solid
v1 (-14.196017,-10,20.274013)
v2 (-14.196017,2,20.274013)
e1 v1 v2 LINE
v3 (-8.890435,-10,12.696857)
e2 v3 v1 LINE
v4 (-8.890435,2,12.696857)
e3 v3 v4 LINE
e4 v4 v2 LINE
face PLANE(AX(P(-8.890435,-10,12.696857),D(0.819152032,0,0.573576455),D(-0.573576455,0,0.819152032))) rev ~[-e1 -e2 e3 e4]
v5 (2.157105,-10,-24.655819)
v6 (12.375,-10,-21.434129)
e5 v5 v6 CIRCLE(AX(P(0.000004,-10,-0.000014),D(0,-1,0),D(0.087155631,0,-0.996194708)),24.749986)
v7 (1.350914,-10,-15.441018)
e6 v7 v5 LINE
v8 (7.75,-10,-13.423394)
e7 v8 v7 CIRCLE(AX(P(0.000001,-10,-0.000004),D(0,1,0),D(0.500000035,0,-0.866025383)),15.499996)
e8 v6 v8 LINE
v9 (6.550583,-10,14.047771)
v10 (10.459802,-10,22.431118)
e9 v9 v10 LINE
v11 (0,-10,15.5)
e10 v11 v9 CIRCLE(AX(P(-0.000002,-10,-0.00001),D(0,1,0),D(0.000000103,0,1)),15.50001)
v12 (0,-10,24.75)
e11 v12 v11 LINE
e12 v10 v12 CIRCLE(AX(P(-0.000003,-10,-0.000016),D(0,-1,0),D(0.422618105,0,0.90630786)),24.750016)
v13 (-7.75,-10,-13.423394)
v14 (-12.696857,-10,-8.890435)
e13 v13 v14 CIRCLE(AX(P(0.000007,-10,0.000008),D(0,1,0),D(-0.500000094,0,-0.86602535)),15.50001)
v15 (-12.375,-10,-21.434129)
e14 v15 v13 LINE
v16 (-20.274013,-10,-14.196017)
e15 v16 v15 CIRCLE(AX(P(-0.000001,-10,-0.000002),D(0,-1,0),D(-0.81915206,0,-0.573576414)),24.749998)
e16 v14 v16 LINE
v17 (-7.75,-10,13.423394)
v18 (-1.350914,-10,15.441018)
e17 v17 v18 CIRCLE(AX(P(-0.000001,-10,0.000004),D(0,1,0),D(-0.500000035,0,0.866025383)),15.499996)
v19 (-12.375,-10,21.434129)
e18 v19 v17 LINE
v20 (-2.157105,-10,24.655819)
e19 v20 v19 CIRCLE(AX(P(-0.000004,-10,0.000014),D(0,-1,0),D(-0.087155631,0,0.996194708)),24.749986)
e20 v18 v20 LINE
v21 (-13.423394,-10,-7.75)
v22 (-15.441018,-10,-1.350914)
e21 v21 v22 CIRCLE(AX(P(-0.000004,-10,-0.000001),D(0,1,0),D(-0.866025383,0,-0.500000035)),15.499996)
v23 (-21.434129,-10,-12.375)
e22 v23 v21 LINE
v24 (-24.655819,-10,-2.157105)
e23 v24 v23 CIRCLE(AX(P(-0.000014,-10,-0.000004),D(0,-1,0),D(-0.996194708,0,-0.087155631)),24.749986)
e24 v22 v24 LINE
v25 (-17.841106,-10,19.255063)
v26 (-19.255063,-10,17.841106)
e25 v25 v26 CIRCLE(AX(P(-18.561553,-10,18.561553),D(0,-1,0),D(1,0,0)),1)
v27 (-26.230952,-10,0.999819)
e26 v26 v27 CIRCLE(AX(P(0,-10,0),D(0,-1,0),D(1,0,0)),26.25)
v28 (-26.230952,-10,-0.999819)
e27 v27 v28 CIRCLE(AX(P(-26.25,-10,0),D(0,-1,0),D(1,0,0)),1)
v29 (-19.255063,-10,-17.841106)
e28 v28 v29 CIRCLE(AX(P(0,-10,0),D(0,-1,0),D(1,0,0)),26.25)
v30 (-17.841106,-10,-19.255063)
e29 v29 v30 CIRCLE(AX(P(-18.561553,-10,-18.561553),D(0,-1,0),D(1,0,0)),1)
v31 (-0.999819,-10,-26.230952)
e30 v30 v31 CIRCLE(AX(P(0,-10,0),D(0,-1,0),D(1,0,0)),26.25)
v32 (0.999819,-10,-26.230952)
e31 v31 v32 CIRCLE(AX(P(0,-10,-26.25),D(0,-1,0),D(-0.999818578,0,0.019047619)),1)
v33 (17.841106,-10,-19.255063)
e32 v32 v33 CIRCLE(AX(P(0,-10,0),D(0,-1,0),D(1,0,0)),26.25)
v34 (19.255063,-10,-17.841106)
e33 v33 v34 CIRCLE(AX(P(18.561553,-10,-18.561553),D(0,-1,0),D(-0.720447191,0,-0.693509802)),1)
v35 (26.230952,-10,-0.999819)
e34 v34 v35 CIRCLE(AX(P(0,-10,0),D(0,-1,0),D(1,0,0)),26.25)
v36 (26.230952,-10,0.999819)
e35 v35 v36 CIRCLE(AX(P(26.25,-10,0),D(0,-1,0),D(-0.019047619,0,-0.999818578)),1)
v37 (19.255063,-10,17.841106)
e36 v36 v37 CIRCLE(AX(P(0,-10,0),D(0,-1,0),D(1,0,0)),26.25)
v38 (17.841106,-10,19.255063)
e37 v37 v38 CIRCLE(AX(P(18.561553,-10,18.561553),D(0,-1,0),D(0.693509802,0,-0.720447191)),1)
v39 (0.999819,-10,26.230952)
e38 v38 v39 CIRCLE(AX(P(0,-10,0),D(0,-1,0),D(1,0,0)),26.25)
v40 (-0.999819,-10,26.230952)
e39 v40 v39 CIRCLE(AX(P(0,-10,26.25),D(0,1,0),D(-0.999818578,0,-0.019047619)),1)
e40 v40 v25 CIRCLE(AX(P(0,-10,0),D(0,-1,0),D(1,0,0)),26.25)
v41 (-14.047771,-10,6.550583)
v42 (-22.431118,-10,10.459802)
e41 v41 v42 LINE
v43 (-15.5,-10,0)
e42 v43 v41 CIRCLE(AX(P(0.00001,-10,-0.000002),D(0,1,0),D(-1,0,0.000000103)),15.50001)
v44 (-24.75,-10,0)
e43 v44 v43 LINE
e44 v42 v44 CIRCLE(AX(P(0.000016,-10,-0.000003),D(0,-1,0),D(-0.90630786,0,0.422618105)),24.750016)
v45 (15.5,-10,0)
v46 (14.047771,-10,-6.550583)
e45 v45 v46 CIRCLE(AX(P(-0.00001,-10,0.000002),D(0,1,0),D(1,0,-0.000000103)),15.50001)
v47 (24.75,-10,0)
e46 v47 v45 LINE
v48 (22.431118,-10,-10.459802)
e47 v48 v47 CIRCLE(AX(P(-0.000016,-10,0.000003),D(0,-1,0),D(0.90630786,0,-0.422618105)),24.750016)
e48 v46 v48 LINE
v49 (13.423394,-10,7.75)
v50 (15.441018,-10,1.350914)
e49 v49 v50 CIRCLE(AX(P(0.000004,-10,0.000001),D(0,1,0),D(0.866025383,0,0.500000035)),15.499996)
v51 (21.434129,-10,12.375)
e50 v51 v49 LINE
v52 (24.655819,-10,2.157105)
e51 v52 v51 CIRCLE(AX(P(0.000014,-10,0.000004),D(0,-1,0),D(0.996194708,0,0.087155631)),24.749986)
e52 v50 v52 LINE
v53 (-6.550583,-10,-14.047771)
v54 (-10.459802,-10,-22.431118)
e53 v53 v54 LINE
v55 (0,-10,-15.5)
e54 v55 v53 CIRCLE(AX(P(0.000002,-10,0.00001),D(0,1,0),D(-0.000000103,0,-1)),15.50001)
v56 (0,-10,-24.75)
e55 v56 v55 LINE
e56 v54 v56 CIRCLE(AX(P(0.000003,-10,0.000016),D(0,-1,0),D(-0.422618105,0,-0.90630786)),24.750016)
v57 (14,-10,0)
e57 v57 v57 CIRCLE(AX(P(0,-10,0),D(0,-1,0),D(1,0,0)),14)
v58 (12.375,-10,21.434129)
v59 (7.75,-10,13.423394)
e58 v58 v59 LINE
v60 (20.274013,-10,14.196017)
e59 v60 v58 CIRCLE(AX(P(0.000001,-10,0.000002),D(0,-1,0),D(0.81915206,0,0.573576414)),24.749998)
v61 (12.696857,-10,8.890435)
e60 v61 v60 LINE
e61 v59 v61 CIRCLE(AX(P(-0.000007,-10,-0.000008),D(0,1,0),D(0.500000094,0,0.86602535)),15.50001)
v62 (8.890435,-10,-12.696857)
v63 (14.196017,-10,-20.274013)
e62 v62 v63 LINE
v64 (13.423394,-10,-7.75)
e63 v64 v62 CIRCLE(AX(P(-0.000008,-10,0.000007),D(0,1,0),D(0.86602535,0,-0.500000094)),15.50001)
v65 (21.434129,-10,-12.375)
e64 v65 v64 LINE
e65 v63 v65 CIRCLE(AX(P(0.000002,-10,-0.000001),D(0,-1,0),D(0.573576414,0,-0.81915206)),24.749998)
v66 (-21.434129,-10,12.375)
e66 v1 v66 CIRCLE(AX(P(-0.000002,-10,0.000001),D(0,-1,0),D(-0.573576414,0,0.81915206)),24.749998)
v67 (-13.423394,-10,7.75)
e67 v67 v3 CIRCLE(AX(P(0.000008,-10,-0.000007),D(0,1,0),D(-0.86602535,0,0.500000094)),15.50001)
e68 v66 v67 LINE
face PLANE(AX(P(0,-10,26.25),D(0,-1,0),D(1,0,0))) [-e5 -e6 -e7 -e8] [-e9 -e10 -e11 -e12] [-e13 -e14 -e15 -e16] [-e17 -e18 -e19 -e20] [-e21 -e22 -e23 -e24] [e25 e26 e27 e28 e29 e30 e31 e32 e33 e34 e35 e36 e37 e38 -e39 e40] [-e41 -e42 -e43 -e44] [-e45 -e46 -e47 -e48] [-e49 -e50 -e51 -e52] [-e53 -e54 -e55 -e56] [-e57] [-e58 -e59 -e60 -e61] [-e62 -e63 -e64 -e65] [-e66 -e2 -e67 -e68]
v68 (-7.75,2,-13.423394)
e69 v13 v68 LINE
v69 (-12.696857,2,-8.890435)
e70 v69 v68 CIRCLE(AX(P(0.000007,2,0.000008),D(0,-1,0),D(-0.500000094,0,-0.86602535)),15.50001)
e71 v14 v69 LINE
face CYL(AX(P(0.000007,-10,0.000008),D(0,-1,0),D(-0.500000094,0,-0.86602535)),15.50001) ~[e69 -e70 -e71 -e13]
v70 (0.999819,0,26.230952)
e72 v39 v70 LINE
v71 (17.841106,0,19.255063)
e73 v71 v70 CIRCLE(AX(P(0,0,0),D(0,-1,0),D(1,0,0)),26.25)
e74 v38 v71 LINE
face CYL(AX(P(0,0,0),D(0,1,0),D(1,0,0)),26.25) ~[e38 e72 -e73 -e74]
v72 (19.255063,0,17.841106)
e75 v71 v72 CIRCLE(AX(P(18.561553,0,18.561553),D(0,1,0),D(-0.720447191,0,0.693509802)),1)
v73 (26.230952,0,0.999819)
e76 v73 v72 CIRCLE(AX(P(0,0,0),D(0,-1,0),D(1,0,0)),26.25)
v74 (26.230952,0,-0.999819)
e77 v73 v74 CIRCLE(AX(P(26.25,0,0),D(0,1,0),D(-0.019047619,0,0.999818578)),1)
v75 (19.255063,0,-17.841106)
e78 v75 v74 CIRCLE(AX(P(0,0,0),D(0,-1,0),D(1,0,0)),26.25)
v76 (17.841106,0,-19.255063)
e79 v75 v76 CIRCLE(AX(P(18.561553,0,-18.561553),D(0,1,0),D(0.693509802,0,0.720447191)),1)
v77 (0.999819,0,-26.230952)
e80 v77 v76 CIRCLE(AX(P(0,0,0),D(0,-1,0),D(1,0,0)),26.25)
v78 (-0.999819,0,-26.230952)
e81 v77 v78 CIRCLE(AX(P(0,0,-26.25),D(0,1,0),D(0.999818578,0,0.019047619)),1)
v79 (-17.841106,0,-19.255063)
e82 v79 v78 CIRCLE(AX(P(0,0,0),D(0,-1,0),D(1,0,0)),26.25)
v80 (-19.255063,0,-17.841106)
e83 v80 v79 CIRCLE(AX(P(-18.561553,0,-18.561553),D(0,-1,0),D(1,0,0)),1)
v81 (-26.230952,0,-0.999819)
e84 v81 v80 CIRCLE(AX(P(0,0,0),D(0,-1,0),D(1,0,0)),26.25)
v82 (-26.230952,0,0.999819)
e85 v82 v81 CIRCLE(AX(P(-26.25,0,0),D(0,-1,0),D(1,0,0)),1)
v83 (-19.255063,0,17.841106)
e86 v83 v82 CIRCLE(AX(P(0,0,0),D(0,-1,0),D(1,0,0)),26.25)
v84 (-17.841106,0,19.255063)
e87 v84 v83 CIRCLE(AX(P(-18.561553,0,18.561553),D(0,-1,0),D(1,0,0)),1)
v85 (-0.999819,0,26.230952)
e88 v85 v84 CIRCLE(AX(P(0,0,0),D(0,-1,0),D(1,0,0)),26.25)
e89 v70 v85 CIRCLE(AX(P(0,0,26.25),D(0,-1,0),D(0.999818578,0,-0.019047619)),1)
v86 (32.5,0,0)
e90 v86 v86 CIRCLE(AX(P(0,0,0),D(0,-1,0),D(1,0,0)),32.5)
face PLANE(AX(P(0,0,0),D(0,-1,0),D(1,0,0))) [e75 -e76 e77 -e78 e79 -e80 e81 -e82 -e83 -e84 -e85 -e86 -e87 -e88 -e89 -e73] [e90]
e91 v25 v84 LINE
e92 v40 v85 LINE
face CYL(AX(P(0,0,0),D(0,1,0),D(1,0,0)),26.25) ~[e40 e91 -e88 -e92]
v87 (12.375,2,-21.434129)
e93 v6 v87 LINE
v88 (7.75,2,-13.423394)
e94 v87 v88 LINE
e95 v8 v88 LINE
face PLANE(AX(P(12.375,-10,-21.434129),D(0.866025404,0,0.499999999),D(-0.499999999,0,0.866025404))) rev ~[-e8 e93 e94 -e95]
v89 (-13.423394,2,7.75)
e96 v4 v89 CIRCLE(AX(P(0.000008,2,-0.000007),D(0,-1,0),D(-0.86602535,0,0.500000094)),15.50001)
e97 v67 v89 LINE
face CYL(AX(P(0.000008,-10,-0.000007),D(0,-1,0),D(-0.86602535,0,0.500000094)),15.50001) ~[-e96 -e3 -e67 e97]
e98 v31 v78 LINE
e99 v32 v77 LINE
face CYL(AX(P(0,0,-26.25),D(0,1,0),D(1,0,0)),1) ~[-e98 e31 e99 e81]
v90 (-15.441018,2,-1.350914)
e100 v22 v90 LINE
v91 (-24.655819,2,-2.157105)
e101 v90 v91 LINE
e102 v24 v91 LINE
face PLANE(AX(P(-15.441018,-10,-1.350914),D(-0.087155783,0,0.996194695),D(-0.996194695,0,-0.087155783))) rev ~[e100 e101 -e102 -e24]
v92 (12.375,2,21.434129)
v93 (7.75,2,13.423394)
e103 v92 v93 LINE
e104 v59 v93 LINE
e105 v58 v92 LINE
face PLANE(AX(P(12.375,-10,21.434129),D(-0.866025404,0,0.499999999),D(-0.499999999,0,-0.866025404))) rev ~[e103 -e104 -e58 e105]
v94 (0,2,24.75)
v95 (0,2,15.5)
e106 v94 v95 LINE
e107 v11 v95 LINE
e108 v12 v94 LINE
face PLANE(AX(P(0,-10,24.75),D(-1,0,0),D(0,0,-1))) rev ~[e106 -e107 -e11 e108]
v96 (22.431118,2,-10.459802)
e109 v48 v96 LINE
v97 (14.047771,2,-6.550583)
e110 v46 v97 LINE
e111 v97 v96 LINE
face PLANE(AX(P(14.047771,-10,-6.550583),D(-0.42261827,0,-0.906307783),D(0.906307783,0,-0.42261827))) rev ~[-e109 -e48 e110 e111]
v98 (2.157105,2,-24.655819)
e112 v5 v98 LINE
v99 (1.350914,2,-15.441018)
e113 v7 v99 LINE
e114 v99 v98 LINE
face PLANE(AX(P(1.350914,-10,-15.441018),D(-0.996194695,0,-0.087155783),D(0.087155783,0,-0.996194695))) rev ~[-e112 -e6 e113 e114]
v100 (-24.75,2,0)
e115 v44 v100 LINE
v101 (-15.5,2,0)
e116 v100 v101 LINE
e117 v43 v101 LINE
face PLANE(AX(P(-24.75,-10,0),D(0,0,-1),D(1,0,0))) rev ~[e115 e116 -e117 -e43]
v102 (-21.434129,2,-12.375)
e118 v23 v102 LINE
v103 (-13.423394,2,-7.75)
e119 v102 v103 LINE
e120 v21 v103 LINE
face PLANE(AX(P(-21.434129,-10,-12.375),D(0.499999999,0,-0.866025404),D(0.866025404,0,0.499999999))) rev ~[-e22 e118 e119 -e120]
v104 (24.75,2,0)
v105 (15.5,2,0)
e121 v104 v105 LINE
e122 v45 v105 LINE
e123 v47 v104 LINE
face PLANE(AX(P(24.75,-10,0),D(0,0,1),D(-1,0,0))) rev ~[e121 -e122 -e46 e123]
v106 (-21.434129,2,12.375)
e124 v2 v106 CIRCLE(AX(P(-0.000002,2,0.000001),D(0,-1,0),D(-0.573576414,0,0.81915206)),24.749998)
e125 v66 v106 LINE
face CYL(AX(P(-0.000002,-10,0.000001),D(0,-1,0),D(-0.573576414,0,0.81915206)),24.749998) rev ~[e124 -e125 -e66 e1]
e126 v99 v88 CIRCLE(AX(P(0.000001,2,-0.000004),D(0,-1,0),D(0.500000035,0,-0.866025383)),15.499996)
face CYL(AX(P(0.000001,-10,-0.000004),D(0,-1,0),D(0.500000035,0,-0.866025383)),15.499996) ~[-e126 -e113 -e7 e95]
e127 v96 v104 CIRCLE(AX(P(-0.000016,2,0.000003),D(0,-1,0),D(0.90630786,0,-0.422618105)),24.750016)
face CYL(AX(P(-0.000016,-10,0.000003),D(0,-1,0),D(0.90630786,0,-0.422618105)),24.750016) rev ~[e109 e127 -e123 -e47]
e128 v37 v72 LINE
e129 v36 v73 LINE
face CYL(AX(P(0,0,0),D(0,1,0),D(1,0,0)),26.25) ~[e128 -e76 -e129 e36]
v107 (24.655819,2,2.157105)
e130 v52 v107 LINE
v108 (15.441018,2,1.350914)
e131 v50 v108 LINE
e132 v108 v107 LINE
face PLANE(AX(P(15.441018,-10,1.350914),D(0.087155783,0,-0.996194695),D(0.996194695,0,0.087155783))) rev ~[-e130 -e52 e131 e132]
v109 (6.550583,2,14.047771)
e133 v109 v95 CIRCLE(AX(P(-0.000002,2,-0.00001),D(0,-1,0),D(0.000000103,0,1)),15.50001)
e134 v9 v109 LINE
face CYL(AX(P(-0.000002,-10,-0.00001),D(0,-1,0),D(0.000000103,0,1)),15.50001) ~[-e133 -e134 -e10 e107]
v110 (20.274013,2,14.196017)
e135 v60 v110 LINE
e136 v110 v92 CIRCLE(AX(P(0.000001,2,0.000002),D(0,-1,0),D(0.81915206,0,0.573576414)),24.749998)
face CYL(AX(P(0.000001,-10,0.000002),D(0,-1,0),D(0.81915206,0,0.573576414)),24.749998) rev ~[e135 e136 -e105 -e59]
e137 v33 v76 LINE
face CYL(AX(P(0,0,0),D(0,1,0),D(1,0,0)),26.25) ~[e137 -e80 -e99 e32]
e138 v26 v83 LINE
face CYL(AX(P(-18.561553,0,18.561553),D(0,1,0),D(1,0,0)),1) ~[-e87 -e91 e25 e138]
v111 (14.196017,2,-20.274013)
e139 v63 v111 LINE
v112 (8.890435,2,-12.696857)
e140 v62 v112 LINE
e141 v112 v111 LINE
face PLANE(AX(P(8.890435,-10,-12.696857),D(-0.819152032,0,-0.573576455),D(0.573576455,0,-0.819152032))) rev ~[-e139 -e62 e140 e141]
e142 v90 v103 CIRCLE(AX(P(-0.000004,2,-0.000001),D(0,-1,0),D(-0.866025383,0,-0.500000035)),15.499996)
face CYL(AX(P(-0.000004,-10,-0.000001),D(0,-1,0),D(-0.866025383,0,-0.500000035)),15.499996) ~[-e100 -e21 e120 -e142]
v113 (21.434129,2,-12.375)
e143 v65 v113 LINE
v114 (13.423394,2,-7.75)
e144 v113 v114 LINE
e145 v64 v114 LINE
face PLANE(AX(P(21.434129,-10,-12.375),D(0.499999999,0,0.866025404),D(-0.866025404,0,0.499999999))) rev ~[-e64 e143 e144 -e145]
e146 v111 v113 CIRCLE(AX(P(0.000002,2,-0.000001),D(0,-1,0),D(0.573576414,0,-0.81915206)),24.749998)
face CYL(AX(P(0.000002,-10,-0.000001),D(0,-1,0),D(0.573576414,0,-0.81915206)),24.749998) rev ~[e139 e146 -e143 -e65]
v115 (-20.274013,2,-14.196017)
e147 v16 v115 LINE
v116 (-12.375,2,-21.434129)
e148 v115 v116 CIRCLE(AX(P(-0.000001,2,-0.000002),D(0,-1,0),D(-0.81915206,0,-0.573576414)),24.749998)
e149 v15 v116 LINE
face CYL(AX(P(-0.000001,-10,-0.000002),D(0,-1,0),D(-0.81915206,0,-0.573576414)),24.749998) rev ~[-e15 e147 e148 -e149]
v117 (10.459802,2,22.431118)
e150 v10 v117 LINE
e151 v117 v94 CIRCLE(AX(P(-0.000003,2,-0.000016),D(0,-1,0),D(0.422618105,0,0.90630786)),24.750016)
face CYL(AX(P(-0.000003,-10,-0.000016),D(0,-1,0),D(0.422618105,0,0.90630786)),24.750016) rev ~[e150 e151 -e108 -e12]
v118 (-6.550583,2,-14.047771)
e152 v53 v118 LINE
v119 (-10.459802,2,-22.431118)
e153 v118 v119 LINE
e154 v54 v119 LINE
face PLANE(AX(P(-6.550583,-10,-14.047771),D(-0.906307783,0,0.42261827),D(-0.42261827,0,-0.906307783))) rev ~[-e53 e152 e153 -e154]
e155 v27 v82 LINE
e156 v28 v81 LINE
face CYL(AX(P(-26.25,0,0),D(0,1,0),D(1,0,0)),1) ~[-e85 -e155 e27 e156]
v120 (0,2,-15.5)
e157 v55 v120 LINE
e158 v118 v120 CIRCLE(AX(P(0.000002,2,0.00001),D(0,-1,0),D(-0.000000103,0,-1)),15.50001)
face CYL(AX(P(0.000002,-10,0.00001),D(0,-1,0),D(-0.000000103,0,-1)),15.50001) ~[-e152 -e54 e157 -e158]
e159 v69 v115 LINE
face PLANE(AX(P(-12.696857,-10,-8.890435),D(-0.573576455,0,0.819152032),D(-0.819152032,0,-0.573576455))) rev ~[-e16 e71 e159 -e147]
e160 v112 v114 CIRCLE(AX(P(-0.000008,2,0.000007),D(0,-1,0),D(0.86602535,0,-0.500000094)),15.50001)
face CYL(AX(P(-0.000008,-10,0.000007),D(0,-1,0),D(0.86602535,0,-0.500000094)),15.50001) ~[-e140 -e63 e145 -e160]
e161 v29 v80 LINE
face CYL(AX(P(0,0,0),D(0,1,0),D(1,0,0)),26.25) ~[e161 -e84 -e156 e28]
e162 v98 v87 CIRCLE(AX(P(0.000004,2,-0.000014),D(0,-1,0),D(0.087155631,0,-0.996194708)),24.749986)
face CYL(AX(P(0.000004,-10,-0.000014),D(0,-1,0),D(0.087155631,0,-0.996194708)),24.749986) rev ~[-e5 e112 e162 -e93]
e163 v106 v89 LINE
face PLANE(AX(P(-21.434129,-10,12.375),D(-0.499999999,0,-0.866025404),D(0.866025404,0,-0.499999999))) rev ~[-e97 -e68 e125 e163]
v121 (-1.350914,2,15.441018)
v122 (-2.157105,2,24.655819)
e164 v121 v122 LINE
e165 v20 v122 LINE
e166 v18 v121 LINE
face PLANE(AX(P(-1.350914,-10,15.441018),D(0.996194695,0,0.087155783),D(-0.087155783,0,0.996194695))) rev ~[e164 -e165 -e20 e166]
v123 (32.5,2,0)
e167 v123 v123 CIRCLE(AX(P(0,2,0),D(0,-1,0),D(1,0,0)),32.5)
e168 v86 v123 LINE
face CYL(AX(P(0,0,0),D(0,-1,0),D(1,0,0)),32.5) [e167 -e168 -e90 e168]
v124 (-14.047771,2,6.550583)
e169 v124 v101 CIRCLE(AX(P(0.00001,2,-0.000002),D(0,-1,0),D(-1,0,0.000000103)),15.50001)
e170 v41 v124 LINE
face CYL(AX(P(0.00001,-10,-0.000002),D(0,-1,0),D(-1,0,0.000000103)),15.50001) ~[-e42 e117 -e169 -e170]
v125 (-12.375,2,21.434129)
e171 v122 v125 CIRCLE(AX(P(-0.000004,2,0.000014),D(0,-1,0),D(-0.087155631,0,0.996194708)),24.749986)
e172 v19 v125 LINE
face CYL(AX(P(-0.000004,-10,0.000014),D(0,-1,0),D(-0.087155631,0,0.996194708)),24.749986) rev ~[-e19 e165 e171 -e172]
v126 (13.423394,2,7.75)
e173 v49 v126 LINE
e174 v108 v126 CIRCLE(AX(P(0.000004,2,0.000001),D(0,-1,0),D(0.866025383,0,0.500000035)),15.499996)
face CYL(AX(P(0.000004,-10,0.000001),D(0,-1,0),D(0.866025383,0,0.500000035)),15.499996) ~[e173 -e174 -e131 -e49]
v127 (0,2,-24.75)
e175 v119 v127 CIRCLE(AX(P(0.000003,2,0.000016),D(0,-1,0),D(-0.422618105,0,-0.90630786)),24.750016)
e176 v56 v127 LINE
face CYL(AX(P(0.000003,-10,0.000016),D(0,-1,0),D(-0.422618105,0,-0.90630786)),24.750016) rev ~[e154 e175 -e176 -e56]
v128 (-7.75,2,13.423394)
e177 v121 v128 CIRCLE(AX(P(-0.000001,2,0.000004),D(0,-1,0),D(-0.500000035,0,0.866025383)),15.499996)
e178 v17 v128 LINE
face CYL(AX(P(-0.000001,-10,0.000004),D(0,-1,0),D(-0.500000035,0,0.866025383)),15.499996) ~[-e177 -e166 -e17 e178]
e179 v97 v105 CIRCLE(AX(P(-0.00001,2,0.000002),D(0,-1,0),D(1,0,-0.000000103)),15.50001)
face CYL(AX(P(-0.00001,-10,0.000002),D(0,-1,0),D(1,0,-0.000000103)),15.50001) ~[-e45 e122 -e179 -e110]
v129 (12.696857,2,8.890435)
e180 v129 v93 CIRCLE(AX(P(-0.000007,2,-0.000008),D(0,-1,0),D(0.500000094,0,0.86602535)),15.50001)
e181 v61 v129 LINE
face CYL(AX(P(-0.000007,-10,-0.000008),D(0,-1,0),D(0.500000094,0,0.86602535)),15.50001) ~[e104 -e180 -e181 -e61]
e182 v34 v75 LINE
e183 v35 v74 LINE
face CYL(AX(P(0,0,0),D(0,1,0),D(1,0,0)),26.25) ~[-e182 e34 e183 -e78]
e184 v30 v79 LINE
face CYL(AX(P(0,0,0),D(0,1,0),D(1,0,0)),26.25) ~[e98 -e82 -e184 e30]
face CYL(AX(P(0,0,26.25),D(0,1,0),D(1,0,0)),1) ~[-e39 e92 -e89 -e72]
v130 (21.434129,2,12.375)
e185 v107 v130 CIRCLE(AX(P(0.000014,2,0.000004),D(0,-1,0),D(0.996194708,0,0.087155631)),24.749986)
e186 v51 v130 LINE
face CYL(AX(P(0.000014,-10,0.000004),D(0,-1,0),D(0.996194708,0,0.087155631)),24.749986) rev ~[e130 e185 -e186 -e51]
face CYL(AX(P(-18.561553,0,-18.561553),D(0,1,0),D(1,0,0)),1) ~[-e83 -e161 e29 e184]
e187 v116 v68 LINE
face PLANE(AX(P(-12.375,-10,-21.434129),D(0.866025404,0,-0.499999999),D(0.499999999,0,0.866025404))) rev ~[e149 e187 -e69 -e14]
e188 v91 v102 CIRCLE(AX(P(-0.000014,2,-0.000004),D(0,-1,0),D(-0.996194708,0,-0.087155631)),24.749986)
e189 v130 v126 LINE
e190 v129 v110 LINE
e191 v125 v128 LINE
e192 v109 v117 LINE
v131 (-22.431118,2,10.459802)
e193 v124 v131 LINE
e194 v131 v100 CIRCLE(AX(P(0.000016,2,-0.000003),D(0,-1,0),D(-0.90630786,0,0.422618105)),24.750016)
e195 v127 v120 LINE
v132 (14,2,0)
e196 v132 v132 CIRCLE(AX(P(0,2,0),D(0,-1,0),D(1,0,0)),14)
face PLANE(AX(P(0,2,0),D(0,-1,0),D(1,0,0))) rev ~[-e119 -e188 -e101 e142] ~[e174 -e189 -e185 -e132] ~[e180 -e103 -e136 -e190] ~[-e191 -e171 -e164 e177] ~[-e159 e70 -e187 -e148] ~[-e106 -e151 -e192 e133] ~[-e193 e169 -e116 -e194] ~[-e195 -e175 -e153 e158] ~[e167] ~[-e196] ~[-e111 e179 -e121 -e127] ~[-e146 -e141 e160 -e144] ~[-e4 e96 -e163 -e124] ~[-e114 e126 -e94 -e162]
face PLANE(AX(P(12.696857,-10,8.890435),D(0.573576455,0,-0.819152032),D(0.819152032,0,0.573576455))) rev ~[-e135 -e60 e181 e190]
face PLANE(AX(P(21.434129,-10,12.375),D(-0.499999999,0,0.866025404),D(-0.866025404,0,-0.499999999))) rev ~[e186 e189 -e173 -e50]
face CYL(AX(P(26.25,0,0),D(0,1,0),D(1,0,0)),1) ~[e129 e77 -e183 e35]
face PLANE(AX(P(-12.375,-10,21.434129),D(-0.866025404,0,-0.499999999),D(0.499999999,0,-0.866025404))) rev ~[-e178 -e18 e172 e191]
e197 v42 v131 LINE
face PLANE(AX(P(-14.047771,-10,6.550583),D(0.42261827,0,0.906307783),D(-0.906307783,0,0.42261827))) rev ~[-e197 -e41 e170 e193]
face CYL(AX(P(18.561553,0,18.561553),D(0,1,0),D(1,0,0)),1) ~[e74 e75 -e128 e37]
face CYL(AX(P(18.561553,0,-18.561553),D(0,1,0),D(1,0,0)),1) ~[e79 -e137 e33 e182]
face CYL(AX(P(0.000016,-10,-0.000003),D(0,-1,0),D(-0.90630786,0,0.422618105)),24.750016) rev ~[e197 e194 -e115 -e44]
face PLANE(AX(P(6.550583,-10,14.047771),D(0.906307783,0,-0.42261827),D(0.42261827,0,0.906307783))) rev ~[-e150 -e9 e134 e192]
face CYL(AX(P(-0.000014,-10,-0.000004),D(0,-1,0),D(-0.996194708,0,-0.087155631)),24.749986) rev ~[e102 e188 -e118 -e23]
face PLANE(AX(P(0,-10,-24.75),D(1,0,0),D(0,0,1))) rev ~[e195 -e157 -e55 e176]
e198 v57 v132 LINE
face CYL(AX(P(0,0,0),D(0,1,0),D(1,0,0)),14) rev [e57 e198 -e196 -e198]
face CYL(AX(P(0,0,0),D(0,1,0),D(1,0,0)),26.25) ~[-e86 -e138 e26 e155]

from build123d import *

# Parameters (mm, degrees)
F0_R     = 26.25
F0_R_2   = 14
F1_DEPTH = 10
F2_R     = 32.5
F2_R_2   = 14
F3_DEPTH = 2
F4_R     = 1
F5_DEPTH = 10
F7_DEPTH = 25


with BuildPart() as f1:
    # F0 (on Front) → F1 (new body)
    with BuildSketch(Plane.XZ):
        Circle(F0_R)
        Circle(F0_R_2, mode=Mode.SUBTRACT)
    extrude(amount=F1_DEPTH)

    # F2 (on Front) → F3 (join)
    with BuildSketch(Plane.XZ):
        Circle(F2_R)
        Circle(F2_R_2, mode=Mode.SUBTRACT)
    extrude(amount=-F3_DEPTH)

    # F4 (on face) → F5 (join, through all)
    with BuildSketch(Plane.XZ):
        with Locations((0, 26.25)):
            Circle(F4_R)
        with Locations((26.25, 0)):
            Circle(F4_R)
        with Locations((0, -26.25)):
            Circle(F4_R)
        with Locations((-26.25, 0)):
            Circle(F4_R)
        with Locations((-18.561553, 18.561553)):
            Circle(F4_R)
        with Locations((-18.561553, -18.561553)):
            Circle(F4_R)
        with Locations((18.561553, -18.561553)):
            Circle(F4_R)
        with Locations((18.561553, 18.561553)):
            Circle(F4_R)
    extrude(amount=F5_DEPTH)

    # F6 (on face) → F7 (cut)
    with BuildSketch(Plane.XZ.offset(10)):
        with BuildLine():
            ThreePointArc((-24.655819, -2.157105), (-23.604495, -7.442469), (-21.434129, -12.375))
            Line((-21.434129, -12.375), (-13.423394, -7.75))
            ThreePointArc((-13.423394, -7.75), (-14.782613, -4.66094), (-15.441018, -1.350914))
            Line((-15.441018, -1.350914), (-24.655819, -2.157105))
        make_face()
        with BuildLine():
            ThreePointArc((-20.274013, -14.196017), (-16.720858, -18.247614), (-12.375, -21.434129))
            Line((-12.375, -21.434129), (-7.75, -13.423394))
            ThreePointArc((-7.75, -13.423394), (-10.471648, -11.427799), (-12.696857, -8.890435))
            Line((-12.696857, -8.890435), (-20.274013, -14.196017))
        make_face()
        with BuildLine():
            ThreePointArc((-10.459802, -22.431118), (-5.35688, -24.163326), (0, -24.75))
            Line((0, -24.75), (0, -15.5))
            ThreePointArc((0, -15.5), (-3.354814, -15.132588), (-6.550583, -14.047771))
            Line((-6.550583, -14.047771), (-10.459802, -22.431118))
        make_face()
        with BuildLine():
            ThreePointArc((2.157105, -24.655819), (7.442469, -23.604495), (12.375, -21.434129))
            Line((12.375, -21.434129), (7.75, -13.423394))
            ThreePointArc((7.75, -13.423394), (4.66094, -14.782613), (1.350914, -15.441018))
            Line((1.350914, -15.441018), (2.157105, -24.655819))
        make_face()
        with BuildLine():
            ThreePointArc((14.196017, -20.274013), (18.247614, -16.720858), (21.434129, -12.375))
            Line((21.434129, -12.375), (13.423394, -7.75))
            ThreePointArc((13.423394, -7.75), (11.427799, -10.471648), (8.890435, -12.696857))
            Line((8.890435, -12.696857), (14.196017, -20.274013))
        make_face()
        with BuildLine():
            ThreePointArc((22.431118, -10.459802), (24.163326, -5.35688), (24.75, 0))
            Line((24.75, 0), (15.5, 0))
            ThreePointArc((15.5, 0), (15.132588, -3.354814), (14.047771, -6.550583))
            Line((14.047771, -6.550583), (22.431118, -10.459802))
        make_face()
        with BuildLine():
            ThreePointArc((24.655819, 2.157105), (23.604495, 7.442469), (21.434129, 12.375))
            Line((21.434129, 12.375), (13.423394, 7.75))
            ThreePointArc((13.423394, 7.75), (14.782613, 4.66094), (15.441018, 1.350914))
            Line((15.441018, 1.350914), (24.655819, 2.157105))
        make_face()
        with BuildLine():
            ThreePointArc((20.274013, 14.196017), (16.720858, 18.247614), (12.375, 21.434129))
            Line((12.375, 21.434129), (7.75, 13.423394))
            ThreePointArc((7.75, 13.423394), (10.471648, 11.427799), (12.696857, 8.890435))
            Line((12.696857, 8.890435), (20.274013, 14.196017))
        make_face()
        with BuildLine():
            ThreePointArc((10.459802, 22.431118), (5.35688, 24.163326), (0, 24.75))
            Line((0, 24.75), (0, 15.5))
            ThreePointArc((0, 15.5), (3.354814, 15.132588), (6.550583, 14.047771))
            Line((6.550583, 14.047771), (10.459802, 22.431118))
        make_face()
        with BuildLine():
            ThreePointArc((-2.157105, 24.655819), (-7.442469, 23.604495), (-12.375, 21.434129))
            Line((-12.375, 21.434129), (-7.75, 13.423394))
            ThreePointArc((-7.75, 13.423394), (-4.66094, 14.782613), (-1.350914, 15.441018))
            Line((-1.350914, 15.441018), (-2.157105, 24.655819))
        make_face()
        with BuildLine():
            ThreePointArc((-14.196017, 20.274013), (-18.247614, 16.720858), (-21.434129, 12.375))
            Line((-21.434129, 12.375), (-13.423394, 7.75))
            ThreePointArc((-13.423394, 7.75), (-11.427799, 10.471648), (-8.890435, 12.696857))
            Line((-8.890435, 12.696857), (-14.196017, 20.274013))
        make_face()
        with BuildLine():
            ThreePointArc((-22.431118, 10.459802), (-24.163326, 5.35688), (-24.75, 0))
            Line((-24.75, 0), (-15.5, 0))
            ThreePointArc((-15.5, 0), (-15.132588, 3.354814), (-14.047771, 6.550583))
            Line((-14.047771, 6.550583), (-22.431118, 10.459802))
        make_face()
    extrude(amount=-F7_DEPTH, mode=Mode.SUBTRACT)


solid = f1.part
